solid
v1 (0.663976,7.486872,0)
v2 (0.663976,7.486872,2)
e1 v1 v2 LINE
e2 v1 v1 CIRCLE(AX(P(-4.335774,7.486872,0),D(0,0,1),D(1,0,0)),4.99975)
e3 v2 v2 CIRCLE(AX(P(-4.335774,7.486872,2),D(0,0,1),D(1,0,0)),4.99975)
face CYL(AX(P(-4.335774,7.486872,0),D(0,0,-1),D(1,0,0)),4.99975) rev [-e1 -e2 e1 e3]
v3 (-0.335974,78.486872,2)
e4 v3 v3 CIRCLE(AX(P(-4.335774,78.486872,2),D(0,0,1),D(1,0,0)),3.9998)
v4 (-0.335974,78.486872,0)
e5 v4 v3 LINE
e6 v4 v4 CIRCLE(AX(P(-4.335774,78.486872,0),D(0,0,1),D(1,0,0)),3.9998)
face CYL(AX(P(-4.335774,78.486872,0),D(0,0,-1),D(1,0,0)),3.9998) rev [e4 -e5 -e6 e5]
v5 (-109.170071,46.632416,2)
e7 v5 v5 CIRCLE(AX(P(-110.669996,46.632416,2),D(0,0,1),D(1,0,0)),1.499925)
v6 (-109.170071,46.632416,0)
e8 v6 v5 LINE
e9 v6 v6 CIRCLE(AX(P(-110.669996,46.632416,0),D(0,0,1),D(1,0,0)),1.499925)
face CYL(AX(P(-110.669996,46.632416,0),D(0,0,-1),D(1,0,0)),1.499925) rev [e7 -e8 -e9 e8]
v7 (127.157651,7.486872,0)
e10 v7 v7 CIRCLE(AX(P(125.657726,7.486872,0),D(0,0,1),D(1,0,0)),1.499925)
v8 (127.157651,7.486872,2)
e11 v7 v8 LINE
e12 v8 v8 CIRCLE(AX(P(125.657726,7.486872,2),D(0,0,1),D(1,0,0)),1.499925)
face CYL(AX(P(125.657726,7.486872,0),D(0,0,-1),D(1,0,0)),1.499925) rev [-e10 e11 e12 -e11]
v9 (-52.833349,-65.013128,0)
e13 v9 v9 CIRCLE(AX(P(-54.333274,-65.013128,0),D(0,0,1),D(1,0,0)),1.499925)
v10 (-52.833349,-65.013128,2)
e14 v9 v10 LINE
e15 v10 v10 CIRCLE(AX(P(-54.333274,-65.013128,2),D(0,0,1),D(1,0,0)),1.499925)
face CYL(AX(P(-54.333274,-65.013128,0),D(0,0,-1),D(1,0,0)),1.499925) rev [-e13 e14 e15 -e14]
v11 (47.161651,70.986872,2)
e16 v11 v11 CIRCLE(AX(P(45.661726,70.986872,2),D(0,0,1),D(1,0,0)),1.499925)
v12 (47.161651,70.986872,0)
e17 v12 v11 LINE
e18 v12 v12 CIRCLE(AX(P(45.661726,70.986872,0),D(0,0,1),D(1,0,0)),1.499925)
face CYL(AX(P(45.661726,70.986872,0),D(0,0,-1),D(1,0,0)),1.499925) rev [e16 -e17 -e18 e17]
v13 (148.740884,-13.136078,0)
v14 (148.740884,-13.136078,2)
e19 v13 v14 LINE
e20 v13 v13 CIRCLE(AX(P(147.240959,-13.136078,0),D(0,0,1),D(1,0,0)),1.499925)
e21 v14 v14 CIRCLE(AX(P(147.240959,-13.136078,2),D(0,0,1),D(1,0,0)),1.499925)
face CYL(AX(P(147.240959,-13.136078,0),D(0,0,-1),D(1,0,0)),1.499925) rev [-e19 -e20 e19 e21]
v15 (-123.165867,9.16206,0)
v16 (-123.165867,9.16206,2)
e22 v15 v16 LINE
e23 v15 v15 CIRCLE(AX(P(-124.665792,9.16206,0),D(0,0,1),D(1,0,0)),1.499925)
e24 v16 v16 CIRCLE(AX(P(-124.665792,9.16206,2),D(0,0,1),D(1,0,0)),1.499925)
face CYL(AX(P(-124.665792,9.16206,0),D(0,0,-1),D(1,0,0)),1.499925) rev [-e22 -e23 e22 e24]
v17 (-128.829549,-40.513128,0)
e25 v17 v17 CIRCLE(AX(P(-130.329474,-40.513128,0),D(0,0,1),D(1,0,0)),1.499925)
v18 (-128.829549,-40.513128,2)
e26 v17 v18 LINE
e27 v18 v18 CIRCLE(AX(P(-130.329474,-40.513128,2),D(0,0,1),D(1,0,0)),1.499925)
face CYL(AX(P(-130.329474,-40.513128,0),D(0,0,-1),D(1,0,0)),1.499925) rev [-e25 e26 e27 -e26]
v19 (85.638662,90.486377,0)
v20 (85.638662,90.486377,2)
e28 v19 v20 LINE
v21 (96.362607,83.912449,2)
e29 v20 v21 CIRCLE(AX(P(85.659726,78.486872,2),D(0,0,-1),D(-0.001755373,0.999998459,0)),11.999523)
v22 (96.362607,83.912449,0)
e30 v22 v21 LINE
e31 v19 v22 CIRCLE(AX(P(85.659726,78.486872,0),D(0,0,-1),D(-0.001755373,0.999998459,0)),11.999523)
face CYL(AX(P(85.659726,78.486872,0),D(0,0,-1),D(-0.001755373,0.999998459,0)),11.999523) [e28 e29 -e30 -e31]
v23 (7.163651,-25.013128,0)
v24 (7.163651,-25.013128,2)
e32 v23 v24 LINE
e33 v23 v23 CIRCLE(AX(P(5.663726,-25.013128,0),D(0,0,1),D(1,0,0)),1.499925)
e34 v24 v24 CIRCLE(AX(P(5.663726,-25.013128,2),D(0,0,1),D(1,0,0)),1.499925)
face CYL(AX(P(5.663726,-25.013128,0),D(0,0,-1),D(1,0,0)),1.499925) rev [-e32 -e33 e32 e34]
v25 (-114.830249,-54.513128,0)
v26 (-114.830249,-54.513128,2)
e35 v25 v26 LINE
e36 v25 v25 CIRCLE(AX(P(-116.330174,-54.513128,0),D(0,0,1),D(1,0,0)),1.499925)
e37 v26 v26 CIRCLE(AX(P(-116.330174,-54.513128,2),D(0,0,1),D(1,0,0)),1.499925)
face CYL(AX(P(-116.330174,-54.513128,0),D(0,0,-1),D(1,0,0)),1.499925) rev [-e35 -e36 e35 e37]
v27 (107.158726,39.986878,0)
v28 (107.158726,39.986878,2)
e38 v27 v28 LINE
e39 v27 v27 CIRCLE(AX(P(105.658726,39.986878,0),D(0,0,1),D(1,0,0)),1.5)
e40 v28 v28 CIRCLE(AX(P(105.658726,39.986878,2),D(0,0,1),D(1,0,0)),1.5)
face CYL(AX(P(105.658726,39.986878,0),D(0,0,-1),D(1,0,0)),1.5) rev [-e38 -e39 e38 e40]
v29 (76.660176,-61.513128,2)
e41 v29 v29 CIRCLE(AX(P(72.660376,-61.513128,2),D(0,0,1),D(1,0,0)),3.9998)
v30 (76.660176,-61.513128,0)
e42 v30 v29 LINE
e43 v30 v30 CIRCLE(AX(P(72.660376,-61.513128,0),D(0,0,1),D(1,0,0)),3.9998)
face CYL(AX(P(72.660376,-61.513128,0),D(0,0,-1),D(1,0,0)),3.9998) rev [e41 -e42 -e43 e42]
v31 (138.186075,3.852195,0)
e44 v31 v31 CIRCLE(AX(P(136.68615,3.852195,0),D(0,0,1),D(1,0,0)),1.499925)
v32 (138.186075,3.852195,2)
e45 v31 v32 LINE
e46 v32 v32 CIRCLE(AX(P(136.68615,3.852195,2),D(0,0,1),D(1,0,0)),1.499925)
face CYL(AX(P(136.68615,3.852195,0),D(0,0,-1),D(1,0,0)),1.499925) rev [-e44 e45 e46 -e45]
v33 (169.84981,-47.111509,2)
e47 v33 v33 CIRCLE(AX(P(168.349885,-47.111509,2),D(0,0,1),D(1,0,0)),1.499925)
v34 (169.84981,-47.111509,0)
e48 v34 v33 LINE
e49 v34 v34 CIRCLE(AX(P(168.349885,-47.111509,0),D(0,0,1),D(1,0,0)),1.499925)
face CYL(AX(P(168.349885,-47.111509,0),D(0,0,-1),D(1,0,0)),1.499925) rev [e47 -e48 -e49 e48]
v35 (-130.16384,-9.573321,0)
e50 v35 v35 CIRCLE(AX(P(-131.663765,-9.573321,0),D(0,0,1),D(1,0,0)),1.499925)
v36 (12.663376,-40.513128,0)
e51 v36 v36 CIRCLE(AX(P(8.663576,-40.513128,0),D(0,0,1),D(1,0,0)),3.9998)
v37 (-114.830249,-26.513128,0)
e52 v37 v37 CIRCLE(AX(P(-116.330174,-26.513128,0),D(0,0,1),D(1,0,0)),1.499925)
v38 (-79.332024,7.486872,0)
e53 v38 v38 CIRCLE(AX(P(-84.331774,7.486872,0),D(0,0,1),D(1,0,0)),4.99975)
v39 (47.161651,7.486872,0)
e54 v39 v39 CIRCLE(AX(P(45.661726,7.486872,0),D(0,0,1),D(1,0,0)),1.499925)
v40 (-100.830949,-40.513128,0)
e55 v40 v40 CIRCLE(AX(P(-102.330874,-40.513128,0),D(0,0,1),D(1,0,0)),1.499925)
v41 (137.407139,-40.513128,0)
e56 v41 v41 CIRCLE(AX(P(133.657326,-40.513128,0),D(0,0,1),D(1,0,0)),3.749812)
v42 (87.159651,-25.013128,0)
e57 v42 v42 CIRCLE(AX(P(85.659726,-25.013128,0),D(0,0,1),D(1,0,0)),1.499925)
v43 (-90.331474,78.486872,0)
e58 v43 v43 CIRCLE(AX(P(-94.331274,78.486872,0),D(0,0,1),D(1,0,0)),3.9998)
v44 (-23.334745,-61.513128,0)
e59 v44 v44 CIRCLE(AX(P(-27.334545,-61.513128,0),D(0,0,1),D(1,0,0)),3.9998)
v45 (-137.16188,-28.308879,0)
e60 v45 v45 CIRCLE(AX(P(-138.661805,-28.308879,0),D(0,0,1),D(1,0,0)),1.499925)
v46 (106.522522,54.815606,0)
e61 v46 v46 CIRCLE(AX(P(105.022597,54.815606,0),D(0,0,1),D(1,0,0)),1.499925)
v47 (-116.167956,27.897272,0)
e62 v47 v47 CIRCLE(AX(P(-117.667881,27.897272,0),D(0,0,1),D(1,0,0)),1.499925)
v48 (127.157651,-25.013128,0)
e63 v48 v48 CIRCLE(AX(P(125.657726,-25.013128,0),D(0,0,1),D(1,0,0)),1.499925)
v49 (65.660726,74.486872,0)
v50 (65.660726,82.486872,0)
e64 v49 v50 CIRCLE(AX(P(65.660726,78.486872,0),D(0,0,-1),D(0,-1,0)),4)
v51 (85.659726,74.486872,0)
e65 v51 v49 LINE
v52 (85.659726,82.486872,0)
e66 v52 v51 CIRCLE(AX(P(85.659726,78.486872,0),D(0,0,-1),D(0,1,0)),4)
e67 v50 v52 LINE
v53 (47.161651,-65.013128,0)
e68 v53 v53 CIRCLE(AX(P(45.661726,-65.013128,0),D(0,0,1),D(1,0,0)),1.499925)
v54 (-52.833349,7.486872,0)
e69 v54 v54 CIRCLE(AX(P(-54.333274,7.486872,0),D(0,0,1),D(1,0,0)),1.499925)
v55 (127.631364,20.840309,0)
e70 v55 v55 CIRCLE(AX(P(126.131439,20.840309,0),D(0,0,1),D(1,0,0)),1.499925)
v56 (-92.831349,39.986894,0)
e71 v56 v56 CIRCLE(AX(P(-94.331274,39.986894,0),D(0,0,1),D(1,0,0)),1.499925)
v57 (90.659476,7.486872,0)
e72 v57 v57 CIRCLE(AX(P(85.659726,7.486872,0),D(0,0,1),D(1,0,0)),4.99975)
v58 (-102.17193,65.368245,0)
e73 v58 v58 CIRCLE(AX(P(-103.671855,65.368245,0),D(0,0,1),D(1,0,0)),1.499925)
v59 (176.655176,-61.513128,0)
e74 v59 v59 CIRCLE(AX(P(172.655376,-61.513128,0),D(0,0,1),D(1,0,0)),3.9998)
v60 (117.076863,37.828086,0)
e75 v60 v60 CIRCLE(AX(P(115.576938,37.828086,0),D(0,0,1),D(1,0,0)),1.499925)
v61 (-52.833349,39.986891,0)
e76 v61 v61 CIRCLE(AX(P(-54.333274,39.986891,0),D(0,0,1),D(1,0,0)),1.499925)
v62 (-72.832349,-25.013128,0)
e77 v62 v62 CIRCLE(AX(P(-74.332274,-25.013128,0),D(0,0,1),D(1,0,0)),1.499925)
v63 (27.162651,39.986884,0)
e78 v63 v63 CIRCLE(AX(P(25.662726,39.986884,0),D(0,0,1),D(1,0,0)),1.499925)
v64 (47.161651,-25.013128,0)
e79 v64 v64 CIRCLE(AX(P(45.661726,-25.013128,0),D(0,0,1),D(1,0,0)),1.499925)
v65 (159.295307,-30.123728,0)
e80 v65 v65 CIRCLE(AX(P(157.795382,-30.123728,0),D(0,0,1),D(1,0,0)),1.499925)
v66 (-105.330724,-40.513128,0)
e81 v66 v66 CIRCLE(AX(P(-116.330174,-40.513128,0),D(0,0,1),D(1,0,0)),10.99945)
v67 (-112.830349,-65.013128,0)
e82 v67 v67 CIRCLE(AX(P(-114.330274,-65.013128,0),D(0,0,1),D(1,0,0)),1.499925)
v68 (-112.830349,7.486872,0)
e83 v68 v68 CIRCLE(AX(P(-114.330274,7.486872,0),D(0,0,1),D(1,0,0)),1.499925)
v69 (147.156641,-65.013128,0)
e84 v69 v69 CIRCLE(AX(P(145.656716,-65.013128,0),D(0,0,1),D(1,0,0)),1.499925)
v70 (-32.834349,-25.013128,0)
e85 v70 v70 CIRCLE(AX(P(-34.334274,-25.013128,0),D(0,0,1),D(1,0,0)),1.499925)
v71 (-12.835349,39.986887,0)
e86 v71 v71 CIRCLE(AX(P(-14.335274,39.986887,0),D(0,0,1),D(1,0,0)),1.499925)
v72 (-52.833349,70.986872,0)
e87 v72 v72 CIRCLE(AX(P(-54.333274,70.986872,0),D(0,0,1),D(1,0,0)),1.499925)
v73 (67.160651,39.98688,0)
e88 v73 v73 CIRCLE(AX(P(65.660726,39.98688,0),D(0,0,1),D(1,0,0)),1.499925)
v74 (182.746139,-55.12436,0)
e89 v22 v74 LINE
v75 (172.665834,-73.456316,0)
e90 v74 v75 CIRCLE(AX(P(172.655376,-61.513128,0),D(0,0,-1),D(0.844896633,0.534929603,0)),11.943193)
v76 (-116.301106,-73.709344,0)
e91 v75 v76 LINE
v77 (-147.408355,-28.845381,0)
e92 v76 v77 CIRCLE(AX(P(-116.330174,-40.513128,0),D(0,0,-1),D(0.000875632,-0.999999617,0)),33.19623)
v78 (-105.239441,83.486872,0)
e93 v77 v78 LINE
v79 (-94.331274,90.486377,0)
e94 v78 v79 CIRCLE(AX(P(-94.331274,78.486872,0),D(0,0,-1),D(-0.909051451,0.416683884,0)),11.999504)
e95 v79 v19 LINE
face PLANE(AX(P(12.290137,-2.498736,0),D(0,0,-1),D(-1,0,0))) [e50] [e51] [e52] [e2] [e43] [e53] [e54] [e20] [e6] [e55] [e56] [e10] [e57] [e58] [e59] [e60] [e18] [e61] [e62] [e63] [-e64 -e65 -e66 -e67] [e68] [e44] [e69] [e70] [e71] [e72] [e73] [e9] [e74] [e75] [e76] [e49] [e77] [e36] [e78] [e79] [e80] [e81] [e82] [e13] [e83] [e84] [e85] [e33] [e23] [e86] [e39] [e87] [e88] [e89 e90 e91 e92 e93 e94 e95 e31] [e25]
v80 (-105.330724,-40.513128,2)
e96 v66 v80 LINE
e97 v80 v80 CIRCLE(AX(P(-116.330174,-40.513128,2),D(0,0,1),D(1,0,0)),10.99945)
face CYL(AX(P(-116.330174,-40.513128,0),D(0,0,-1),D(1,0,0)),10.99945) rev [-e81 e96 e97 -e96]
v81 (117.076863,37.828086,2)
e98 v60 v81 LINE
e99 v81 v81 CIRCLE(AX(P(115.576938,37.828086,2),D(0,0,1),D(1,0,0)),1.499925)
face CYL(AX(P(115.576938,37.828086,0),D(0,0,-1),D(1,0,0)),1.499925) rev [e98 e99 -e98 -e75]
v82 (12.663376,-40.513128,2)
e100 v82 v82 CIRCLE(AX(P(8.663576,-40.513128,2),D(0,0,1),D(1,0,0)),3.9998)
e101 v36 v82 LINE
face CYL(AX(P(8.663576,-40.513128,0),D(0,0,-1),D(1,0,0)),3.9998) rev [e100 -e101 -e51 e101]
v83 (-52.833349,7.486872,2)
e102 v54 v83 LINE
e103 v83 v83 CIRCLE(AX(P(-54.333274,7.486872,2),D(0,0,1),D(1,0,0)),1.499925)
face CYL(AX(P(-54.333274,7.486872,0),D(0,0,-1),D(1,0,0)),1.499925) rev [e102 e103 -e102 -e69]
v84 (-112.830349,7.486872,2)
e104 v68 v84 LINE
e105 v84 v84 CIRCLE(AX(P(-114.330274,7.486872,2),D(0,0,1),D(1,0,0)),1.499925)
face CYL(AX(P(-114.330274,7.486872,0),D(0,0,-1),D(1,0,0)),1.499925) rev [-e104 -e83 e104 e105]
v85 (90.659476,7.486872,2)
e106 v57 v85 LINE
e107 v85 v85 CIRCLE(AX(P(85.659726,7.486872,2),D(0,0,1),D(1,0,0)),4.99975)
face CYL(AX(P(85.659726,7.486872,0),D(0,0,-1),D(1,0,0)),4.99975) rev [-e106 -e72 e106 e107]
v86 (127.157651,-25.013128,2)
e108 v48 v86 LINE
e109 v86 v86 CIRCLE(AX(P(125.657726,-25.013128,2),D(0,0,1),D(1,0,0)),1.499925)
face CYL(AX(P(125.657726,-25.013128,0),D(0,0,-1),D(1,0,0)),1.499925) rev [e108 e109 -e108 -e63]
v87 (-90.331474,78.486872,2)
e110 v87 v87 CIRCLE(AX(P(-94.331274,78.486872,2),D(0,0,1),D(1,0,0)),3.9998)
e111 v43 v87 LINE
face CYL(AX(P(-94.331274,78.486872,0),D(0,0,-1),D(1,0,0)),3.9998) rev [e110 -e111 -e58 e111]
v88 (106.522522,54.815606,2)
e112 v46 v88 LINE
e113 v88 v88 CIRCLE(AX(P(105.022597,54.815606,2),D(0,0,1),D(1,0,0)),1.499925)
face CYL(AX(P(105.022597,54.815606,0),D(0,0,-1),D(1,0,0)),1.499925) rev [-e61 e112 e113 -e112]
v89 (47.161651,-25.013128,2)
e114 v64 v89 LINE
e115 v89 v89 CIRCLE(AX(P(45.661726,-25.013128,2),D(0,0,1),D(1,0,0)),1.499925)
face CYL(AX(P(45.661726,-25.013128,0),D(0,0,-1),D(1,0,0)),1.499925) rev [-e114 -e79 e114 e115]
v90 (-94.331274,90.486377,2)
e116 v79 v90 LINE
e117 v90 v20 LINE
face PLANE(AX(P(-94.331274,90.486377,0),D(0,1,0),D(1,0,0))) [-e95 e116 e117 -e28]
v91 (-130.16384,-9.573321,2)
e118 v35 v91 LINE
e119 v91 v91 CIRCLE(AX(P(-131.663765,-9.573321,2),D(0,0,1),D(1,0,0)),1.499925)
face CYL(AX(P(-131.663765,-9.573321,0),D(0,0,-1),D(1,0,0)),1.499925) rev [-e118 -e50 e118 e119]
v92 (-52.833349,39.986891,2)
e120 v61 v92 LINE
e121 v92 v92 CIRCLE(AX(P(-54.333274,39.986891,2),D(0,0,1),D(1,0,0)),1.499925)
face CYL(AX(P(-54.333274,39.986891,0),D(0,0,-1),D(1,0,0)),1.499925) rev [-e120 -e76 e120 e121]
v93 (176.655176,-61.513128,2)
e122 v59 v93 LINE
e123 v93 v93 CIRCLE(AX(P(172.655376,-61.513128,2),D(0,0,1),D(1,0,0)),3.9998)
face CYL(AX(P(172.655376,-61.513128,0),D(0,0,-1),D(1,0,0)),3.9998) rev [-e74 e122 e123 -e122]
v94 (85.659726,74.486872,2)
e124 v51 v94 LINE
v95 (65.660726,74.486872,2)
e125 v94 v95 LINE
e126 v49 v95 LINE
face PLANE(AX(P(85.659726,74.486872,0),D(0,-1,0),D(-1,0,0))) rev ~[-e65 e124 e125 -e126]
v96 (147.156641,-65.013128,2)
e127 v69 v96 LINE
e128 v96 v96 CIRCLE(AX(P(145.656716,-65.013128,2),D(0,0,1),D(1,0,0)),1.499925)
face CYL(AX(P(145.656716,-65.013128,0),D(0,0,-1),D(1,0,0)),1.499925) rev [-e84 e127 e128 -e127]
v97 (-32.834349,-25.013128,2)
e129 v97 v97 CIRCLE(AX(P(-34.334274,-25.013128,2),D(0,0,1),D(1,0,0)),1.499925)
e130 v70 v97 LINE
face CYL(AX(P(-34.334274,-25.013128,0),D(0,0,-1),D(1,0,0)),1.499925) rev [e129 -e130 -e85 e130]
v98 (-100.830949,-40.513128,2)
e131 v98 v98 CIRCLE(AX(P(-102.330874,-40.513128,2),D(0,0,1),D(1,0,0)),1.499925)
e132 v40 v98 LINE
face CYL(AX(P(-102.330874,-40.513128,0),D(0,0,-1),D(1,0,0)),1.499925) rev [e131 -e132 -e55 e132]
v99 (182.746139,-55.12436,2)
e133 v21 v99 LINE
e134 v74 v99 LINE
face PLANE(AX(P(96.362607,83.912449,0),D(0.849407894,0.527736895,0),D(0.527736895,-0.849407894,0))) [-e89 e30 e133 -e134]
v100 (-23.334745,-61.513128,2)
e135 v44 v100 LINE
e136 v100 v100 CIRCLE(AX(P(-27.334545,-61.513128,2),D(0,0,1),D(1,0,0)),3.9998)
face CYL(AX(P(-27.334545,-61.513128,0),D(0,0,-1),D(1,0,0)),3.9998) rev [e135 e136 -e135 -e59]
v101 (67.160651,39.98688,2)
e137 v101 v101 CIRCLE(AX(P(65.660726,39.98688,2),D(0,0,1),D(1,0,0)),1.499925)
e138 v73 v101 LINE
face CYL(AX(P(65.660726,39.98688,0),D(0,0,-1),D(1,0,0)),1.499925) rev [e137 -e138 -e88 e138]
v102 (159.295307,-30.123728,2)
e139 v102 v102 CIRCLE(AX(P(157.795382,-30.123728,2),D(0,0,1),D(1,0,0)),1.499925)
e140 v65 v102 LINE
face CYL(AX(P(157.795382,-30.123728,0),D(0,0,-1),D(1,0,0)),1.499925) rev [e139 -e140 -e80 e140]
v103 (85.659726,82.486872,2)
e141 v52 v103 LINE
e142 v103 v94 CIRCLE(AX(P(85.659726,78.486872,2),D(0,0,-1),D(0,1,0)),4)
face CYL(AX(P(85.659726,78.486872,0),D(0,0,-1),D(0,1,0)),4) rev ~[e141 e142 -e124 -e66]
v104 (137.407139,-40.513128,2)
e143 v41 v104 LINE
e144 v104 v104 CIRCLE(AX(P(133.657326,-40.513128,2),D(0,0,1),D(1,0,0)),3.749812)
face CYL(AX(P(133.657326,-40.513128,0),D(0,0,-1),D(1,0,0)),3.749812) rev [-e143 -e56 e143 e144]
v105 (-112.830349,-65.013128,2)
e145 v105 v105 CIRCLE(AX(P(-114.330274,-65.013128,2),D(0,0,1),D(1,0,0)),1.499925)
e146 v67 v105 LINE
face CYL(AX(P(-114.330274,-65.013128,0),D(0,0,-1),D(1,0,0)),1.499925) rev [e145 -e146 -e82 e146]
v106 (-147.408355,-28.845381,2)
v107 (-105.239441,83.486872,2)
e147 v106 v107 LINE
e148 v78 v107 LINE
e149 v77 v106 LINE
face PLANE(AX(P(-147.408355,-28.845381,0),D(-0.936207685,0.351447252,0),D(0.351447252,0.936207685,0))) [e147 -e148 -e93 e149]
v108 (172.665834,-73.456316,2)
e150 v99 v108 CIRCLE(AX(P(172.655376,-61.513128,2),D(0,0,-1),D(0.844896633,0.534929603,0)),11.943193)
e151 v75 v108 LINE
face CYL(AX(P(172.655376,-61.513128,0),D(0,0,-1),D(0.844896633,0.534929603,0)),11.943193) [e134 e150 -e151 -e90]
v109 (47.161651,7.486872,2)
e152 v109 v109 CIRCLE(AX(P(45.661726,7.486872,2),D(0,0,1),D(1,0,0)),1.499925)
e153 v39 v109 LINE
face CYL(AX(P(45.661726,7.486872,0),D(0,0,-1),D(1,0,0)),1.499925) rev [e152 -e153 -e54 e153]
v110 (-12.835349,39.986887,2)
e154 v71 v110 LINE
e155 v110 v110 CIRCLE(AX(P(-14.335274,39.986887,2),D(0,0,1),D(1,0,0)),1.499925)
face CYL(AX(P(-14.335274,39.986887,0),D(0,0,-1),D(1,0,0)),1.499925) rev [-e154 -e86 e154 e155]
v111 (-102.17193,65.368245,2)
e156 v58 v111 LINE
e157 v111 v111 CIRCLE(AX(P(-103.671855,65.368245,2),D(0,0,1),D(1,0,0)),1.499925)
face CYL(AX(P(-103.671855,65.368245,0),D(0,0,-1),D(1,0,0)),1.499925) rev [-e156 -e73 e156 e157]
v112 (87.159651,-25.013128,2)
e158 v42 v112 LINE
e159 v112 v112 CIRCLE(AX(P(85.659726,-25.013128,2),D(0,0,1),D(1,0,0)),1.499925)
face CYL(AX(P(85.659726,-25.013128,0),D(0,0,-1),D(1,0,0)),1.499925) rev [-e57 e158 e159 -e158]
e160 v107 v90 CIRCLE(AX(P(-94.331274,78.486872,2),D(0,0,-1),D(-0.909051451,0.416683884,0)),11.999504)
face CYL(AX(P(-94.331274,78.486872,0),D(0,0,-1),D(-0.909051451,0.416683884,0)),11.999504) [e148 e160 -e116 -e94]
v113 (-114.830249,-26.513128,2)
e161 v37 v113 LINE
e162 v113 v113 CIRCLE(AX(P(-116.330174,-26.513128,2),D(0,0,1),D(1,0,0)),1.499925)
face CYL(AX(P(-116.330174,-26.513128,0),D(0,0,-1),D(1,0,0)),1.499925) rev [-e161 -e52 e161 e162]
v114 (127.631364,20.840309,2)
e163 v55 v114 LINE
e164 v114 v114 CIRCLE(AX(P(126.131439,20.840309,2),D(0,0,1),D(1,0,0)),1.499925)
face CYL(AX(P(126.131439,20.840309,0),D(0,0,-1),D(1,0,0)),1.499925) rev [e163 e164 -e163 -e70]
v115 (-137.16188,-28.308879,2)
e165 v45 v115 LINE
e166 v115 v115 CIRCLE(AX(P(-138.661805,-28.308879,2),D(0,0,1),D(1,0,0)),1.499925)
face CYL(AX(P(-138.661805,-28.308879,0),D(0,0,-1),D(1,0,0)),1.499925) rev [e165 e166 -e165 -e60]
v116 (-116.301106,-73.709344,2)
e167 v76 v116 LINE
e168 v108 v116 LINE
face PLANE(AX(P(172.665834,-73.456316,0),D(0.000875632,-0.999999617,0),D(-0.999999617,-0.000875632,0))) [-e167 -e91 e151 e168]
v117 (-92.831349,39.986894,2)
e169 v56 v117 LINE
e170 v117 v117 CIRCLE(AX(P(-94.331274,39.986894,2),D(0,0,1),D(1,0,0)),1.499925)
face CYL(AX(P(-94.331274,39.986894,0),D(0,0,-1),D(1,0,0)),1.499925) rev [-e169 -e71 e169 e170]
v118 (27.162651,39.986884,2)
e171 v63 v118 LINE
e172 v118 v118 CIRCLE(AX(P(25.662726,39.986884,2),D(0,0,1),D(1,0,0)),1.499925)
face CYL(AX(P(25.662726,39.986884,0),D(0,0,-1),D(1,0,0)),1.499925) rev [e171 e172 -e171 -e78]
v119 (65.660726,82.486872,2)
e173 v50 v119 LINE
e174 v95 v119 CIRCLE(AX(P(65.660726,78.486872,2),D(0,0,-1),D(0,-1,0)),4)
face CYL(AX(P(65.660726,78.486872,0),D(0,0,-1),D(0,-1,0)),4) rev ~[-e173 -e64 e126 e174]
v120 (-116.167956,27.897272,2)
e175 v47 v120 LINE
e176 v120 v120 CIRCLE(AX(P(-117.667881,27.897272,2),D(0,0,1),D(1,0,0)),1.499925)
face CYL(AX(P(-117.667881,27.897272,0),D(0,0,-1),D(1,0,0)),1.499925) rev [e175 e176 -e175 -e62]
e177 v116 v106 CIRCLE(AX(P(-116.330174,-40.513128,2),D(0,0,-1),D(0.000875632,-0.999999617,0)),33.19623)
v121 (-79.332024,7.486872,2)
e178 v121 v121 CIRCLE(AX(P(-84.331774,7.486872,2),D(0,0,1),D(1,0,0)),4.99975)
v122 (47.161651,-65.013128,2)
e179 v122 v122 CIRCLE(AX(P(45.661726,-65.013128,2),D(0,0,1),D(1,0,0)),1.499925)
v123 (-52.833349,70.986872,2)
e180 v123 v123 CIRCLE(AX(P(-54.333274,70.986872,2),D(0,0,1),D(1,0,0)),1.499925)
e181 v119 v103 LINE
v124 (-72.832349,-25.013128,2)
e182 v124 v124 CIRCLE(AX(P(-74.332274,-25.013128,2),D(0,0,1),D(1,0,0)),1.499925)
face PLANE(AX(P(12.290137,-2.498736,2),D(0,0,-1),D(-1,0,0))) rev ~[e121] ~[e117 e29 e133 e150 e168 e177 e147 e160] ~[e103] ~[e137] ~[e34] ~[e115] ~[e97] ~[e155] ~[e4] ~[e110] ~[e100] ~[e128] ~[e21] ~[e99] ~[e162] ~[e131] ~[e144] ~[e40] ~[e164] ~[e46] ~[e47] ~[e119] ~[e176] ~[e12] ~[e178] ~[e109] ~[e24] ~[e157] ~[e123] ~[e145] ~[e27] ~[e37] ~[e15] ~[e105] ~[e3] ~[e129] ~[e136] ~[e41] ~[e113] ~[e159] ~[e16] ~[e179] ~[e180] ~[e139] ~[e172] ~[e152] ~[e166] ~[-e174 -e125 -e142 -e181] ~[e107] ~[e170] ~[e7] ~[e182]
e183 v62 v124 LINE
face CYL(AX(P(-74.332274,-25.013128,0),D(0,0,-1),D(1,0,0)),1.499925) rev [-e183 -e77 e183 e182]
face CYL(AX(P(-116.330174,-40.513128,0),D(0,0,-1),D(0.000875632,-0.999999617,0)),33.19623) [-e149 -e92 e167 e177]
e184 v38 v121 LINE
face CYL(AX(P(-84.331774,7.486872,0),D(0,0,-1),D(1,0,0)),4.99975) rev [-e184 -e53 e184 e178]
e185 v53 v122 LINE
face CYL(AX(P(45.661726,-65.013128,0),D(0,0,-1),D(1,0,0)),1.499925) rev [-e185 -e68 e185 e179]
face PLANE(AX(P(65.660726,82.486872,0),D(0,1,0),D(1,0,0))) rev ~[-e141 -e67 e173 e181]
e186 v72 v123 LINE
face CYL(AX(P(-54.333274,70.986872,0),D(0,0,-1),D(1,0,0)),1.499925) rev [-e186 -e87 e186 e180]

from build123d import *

# Parameters (mm, degrees)
SKETCH2_R           = 3.9998
SKETCH2_R_2         = 1.499925
SKETCH2_R_3         = 4.99975
SKETCH2_R_4         = 3.7498125
SKETCH2_R_5         = 1.5
SKETCH2_R_6         = 10.99945
BOSS_EXTRUDE1_DEPTH = 2


with BuildPart() as part:
    # Sketch2 → Boss-Extrude1 (new body)
    with BuildSketch(Plane.XY):
        with BuildLine():
            Line((96.362607148, 83.91244893), (182.746139217, -55.124360407))
            ThreePointArc((182.746139217, -55.124360407), (183.120738534, -67.267781048), (172.665833933, -73.456315551))
            Line((172.665833933, -73.456315551), (-116.301106221, -73.709344442))
            ThreePointArc((-116.301106221, -73.709344442), (-143.610306979, -59.428306601), (-147.408355202, -28.84538134))
            Line((-147.408355202, -28.84538134), (-105.239440592, 83.486872373))
            ThreePointArc((-105.239440592, 83.486872373), (-100.811651195, 88.586021375), (-94.331273913, 90.486376541))
            Line((-94.331273913, 90.486376541), (85.638662445, 90.486376541))
            ThreePointArc((85.638662445, 90.486376541), (91.93104468, 88.717175744), (96.362607148, 83.91244893))
        make_face()
        with Locations((-94.331273913, 78.486872372)):
            Circle(SKETCH2_R, mode=Mode.SUBTRACT)
        with Locations((-4.335773913, 78.486872372)):
            Circle(SKETCH2_R, mode=Mode.SUBTRACT)
        with Locations((-54.333273913, 70.986872372)):
            Circle(SKETCH2_R_2, mode=Mode.SUBTRACT)
        with Locations((-103.671855402, 65.368244598)):
            Circle(SKETCH2_R_2, mode=Mode.SUBTRACT)
        with Locations((-110.669996254, 46.632415776)):
            Circle(SKETCH2_R_2, mode=Mode.SUBTRACT)
        with Locations((-94.331273913, 39.98689418)):
            Circle(SKETCH2_R_2, mode=Mode.SUBTRACT)
        with Locations((-117.667881298, 27.897271817)):
            Circle(SKETCH2_R_2, mode=Mode.SUBTRACT)
        with Locations((-114.330273913, 7.486872372)):
            Circle(SKETCH2_R_2, mode=Mode.SUBTRACT)
        with Locations((-124.665791603, 9.162060229)):
            Circle(SKETCH2_R_2, mode=Mode.SUBTRACT)
        with Locations((-131.663765383, -9.573321299)):
            Circle(SKETCH2_R_2, mode=Mode.SUBTRACT)
        with Locations((-116.330173913, -26.513127628)):
            Circle(SKETCH2_R_2, mode=Mode.SUBTRACT)
        with Locations((-138.661805034, -28.308879181)):
            Circle(SKETCH2_R_2, mode=Mode.SUBTRACT)
        with Locations((-130.329473913, -40.513127628)):
            Circle(SKETCH2_R_2, mode=Mode.SUBTRACT)
        with Locations((-102.330873913, -40.513127628)):
            Circle(SKETCH2_R_2, mode=Mode.SUBTRACT)
        with Locations((-114.330273913, -65.013127628)):
            Circle(SKETCH2_R_2, mode=Mode.SUBTRACT)
        with Locations((-116.330173913, -54.513127628)):
            Circle(SKETCH2_R_2, mode=Mode.SUBTRACT)
        with Locations((8.663576087, -40.513127628)):
            Circle(SKETCH2_R, mode=Mode.SUBTRACT)
        with Locations((-54.333273913, -65.013127628)):
            Circle(SKETCH2_R_2, mode=Mode.SUBTRACT)
        with Locations((-27.334544722, -61.513127628)):
            Circle(SKETCH2_R, mode=Mode.SUBTRACT)
        with Locations((-74.332273913, -25.013127628)):
            Circle(SKETCH2_R_2, mode=Mode.SUBTRACT)
        with Locations((-84.331773913, 7.486872372)):
            Circle(SKETCH2_R_3, mode=Mode.SUBTRACT)
        with Locations((-54.333273913, 7.486872372)):
            Circle(SKETCH2_R_2, mode=Mode.SUBTRACT)
        with Locations((-34.334273913, -25.013127628)):
            Circle(SKETCH2_R_2, mode=Mode.SUBTRACT)
        with Locations((-54.333273913, 39.986891336)):
            Circle(SKETCH2_R_2, mode=Mode.SUBTRACT)
        with Locations((-14.335273913, 39.986886595)):
            Circle(SKETCH2_R_2, mode=Mode.SUBTRACT)
        with Locations((-4.335773913, 7.486872372)):
            Circle(SKETCH2_R_3, mode=Mode.SUBTRACT)
        with Locations((5.663726087, -25.013127628)):
            Circle(SKETCH2_R_2, mode=Mode.SUBTRACT)
        with Locations((85.659726087, -25.013127628)):
            Circle(SKETCH2_R_2, mode=Mode.SUBTRACT)
        with Locations((45.661726087, -25.013127628)):
            Circle(SKETCH2_R_2, mode=Mode.SUBTRACT)
        with Locations((45.661726087, 7.486872372)):
            Circle(SKETCH2_R_2, mode=Mode.SUBTRACT)
        with Locations((25.662726087, 39.98688375)):
            Circle(SKETCH2_R_2, mode=Mode.SUBTRACT)
        with Locations((45.661726087, 70.986872372)):
            Circle(SKETCH2_R_2, mode=Mode.SUBTRACT)
        with Locations((65.660726087, 39.986879958)):
            Circle(SKETCH2_R_2, mode=Mode.SUBTRACT)
        with Locations((72.660376087, -61.513127628)):
            Circle(SKETCH2_R, mode=Mode.SUBTRACT)
        with Locations((45.661726087, -65.013127628)):
            Circle(SKETCH2_R_2, mode=Mode.SUBTRACT)
        with Locations((125.657726087, -25.013127628)):
            Circle(SKETCH2_R_2, mode=Mode.SUBTRACT)
        with Locations((133.657326087, -40.513127628)):
            Circle(SKETCH2_R_4, mode=Mode.SUBTRACT)
        with Locations((145.656716219, -65.013127628)):
            Circle(SKETCH2_R_2, mode=Mode.SUBTRACT)
        with Locations((172.655376087, -61.513127628)):
            Circle(SKETCH2_R, mode=Mode.SUBTRACT)
        with Locations((168.349885089, -47.111508591)):
            Circle(SKETCH2_R_2, mode=Mode.SUBTRACT)
        with Locations((157.795381517, -30.123727868)):
            Circle(SKETCH2_R_2, mode=Mode.SUBTRACT)
        with Locations((147.240959183, -13.136077902)):
            Circle(SKETCH2_R_2, mode=Mode.SUBTRACT)
        with Locations((136.686149927, 3.852194828)):
            Circle(SKETCH2_R_2, mode=Mode.SUBTRACT)
        with Locations((125.657726087, 7.486872372)):
            Circle(SKETCH2_R_2, mode=Mode.SUBTRACT)
        with Locations((85.659726087, 7.486872372)):
            Circle(SKETCH2_R_3, mode=Mode.SUBTRACT)
        with Locations((126.131439072, 20.840309178)):
            Circle(SKETCH2_R_2, mode=Mode.SUBTRACT)
        with Locations((115.576938019, 37.828085844)):
            Circle(SKETCH2_R_2, mode=Mode.SUBTRACT)
        with Locations((105.658726087, 39.986878061)):
            Circle(SKETCH2_R_5, mode=Mode.SUBTRACT)
        with Locations((105.022596502, 54.815605735)):
            Circle(SKETCH2_R_2, mode=Mode.SUBTRACT)
        with Locations((-116.330173913, -40.513127628)):
            Circle(SKETCH2_R_6, mode=Mode.SUBTRACT)
        with BuildLine():
            Line((65.660726087, 82.486872372), (85.659726087, 82.486872372))
            ThreePointArc((85.659726087, 82.486872372), (89.659726087, 78.486872372), (85.659726087, 74.486872372))
            Line((85.659726087, 74.486872372), (65.660726087, 74.486872372))
            ThreePointArc((65.660726087, 74.486872372), (61.660726087, 78.486872372), (65.660726087, 82.486872372))
        make_face(mode=Mode.SUBTRACT)
    extrude(amount=BOSS_EXTRUDE1_DEPTH)


solid = part.part
